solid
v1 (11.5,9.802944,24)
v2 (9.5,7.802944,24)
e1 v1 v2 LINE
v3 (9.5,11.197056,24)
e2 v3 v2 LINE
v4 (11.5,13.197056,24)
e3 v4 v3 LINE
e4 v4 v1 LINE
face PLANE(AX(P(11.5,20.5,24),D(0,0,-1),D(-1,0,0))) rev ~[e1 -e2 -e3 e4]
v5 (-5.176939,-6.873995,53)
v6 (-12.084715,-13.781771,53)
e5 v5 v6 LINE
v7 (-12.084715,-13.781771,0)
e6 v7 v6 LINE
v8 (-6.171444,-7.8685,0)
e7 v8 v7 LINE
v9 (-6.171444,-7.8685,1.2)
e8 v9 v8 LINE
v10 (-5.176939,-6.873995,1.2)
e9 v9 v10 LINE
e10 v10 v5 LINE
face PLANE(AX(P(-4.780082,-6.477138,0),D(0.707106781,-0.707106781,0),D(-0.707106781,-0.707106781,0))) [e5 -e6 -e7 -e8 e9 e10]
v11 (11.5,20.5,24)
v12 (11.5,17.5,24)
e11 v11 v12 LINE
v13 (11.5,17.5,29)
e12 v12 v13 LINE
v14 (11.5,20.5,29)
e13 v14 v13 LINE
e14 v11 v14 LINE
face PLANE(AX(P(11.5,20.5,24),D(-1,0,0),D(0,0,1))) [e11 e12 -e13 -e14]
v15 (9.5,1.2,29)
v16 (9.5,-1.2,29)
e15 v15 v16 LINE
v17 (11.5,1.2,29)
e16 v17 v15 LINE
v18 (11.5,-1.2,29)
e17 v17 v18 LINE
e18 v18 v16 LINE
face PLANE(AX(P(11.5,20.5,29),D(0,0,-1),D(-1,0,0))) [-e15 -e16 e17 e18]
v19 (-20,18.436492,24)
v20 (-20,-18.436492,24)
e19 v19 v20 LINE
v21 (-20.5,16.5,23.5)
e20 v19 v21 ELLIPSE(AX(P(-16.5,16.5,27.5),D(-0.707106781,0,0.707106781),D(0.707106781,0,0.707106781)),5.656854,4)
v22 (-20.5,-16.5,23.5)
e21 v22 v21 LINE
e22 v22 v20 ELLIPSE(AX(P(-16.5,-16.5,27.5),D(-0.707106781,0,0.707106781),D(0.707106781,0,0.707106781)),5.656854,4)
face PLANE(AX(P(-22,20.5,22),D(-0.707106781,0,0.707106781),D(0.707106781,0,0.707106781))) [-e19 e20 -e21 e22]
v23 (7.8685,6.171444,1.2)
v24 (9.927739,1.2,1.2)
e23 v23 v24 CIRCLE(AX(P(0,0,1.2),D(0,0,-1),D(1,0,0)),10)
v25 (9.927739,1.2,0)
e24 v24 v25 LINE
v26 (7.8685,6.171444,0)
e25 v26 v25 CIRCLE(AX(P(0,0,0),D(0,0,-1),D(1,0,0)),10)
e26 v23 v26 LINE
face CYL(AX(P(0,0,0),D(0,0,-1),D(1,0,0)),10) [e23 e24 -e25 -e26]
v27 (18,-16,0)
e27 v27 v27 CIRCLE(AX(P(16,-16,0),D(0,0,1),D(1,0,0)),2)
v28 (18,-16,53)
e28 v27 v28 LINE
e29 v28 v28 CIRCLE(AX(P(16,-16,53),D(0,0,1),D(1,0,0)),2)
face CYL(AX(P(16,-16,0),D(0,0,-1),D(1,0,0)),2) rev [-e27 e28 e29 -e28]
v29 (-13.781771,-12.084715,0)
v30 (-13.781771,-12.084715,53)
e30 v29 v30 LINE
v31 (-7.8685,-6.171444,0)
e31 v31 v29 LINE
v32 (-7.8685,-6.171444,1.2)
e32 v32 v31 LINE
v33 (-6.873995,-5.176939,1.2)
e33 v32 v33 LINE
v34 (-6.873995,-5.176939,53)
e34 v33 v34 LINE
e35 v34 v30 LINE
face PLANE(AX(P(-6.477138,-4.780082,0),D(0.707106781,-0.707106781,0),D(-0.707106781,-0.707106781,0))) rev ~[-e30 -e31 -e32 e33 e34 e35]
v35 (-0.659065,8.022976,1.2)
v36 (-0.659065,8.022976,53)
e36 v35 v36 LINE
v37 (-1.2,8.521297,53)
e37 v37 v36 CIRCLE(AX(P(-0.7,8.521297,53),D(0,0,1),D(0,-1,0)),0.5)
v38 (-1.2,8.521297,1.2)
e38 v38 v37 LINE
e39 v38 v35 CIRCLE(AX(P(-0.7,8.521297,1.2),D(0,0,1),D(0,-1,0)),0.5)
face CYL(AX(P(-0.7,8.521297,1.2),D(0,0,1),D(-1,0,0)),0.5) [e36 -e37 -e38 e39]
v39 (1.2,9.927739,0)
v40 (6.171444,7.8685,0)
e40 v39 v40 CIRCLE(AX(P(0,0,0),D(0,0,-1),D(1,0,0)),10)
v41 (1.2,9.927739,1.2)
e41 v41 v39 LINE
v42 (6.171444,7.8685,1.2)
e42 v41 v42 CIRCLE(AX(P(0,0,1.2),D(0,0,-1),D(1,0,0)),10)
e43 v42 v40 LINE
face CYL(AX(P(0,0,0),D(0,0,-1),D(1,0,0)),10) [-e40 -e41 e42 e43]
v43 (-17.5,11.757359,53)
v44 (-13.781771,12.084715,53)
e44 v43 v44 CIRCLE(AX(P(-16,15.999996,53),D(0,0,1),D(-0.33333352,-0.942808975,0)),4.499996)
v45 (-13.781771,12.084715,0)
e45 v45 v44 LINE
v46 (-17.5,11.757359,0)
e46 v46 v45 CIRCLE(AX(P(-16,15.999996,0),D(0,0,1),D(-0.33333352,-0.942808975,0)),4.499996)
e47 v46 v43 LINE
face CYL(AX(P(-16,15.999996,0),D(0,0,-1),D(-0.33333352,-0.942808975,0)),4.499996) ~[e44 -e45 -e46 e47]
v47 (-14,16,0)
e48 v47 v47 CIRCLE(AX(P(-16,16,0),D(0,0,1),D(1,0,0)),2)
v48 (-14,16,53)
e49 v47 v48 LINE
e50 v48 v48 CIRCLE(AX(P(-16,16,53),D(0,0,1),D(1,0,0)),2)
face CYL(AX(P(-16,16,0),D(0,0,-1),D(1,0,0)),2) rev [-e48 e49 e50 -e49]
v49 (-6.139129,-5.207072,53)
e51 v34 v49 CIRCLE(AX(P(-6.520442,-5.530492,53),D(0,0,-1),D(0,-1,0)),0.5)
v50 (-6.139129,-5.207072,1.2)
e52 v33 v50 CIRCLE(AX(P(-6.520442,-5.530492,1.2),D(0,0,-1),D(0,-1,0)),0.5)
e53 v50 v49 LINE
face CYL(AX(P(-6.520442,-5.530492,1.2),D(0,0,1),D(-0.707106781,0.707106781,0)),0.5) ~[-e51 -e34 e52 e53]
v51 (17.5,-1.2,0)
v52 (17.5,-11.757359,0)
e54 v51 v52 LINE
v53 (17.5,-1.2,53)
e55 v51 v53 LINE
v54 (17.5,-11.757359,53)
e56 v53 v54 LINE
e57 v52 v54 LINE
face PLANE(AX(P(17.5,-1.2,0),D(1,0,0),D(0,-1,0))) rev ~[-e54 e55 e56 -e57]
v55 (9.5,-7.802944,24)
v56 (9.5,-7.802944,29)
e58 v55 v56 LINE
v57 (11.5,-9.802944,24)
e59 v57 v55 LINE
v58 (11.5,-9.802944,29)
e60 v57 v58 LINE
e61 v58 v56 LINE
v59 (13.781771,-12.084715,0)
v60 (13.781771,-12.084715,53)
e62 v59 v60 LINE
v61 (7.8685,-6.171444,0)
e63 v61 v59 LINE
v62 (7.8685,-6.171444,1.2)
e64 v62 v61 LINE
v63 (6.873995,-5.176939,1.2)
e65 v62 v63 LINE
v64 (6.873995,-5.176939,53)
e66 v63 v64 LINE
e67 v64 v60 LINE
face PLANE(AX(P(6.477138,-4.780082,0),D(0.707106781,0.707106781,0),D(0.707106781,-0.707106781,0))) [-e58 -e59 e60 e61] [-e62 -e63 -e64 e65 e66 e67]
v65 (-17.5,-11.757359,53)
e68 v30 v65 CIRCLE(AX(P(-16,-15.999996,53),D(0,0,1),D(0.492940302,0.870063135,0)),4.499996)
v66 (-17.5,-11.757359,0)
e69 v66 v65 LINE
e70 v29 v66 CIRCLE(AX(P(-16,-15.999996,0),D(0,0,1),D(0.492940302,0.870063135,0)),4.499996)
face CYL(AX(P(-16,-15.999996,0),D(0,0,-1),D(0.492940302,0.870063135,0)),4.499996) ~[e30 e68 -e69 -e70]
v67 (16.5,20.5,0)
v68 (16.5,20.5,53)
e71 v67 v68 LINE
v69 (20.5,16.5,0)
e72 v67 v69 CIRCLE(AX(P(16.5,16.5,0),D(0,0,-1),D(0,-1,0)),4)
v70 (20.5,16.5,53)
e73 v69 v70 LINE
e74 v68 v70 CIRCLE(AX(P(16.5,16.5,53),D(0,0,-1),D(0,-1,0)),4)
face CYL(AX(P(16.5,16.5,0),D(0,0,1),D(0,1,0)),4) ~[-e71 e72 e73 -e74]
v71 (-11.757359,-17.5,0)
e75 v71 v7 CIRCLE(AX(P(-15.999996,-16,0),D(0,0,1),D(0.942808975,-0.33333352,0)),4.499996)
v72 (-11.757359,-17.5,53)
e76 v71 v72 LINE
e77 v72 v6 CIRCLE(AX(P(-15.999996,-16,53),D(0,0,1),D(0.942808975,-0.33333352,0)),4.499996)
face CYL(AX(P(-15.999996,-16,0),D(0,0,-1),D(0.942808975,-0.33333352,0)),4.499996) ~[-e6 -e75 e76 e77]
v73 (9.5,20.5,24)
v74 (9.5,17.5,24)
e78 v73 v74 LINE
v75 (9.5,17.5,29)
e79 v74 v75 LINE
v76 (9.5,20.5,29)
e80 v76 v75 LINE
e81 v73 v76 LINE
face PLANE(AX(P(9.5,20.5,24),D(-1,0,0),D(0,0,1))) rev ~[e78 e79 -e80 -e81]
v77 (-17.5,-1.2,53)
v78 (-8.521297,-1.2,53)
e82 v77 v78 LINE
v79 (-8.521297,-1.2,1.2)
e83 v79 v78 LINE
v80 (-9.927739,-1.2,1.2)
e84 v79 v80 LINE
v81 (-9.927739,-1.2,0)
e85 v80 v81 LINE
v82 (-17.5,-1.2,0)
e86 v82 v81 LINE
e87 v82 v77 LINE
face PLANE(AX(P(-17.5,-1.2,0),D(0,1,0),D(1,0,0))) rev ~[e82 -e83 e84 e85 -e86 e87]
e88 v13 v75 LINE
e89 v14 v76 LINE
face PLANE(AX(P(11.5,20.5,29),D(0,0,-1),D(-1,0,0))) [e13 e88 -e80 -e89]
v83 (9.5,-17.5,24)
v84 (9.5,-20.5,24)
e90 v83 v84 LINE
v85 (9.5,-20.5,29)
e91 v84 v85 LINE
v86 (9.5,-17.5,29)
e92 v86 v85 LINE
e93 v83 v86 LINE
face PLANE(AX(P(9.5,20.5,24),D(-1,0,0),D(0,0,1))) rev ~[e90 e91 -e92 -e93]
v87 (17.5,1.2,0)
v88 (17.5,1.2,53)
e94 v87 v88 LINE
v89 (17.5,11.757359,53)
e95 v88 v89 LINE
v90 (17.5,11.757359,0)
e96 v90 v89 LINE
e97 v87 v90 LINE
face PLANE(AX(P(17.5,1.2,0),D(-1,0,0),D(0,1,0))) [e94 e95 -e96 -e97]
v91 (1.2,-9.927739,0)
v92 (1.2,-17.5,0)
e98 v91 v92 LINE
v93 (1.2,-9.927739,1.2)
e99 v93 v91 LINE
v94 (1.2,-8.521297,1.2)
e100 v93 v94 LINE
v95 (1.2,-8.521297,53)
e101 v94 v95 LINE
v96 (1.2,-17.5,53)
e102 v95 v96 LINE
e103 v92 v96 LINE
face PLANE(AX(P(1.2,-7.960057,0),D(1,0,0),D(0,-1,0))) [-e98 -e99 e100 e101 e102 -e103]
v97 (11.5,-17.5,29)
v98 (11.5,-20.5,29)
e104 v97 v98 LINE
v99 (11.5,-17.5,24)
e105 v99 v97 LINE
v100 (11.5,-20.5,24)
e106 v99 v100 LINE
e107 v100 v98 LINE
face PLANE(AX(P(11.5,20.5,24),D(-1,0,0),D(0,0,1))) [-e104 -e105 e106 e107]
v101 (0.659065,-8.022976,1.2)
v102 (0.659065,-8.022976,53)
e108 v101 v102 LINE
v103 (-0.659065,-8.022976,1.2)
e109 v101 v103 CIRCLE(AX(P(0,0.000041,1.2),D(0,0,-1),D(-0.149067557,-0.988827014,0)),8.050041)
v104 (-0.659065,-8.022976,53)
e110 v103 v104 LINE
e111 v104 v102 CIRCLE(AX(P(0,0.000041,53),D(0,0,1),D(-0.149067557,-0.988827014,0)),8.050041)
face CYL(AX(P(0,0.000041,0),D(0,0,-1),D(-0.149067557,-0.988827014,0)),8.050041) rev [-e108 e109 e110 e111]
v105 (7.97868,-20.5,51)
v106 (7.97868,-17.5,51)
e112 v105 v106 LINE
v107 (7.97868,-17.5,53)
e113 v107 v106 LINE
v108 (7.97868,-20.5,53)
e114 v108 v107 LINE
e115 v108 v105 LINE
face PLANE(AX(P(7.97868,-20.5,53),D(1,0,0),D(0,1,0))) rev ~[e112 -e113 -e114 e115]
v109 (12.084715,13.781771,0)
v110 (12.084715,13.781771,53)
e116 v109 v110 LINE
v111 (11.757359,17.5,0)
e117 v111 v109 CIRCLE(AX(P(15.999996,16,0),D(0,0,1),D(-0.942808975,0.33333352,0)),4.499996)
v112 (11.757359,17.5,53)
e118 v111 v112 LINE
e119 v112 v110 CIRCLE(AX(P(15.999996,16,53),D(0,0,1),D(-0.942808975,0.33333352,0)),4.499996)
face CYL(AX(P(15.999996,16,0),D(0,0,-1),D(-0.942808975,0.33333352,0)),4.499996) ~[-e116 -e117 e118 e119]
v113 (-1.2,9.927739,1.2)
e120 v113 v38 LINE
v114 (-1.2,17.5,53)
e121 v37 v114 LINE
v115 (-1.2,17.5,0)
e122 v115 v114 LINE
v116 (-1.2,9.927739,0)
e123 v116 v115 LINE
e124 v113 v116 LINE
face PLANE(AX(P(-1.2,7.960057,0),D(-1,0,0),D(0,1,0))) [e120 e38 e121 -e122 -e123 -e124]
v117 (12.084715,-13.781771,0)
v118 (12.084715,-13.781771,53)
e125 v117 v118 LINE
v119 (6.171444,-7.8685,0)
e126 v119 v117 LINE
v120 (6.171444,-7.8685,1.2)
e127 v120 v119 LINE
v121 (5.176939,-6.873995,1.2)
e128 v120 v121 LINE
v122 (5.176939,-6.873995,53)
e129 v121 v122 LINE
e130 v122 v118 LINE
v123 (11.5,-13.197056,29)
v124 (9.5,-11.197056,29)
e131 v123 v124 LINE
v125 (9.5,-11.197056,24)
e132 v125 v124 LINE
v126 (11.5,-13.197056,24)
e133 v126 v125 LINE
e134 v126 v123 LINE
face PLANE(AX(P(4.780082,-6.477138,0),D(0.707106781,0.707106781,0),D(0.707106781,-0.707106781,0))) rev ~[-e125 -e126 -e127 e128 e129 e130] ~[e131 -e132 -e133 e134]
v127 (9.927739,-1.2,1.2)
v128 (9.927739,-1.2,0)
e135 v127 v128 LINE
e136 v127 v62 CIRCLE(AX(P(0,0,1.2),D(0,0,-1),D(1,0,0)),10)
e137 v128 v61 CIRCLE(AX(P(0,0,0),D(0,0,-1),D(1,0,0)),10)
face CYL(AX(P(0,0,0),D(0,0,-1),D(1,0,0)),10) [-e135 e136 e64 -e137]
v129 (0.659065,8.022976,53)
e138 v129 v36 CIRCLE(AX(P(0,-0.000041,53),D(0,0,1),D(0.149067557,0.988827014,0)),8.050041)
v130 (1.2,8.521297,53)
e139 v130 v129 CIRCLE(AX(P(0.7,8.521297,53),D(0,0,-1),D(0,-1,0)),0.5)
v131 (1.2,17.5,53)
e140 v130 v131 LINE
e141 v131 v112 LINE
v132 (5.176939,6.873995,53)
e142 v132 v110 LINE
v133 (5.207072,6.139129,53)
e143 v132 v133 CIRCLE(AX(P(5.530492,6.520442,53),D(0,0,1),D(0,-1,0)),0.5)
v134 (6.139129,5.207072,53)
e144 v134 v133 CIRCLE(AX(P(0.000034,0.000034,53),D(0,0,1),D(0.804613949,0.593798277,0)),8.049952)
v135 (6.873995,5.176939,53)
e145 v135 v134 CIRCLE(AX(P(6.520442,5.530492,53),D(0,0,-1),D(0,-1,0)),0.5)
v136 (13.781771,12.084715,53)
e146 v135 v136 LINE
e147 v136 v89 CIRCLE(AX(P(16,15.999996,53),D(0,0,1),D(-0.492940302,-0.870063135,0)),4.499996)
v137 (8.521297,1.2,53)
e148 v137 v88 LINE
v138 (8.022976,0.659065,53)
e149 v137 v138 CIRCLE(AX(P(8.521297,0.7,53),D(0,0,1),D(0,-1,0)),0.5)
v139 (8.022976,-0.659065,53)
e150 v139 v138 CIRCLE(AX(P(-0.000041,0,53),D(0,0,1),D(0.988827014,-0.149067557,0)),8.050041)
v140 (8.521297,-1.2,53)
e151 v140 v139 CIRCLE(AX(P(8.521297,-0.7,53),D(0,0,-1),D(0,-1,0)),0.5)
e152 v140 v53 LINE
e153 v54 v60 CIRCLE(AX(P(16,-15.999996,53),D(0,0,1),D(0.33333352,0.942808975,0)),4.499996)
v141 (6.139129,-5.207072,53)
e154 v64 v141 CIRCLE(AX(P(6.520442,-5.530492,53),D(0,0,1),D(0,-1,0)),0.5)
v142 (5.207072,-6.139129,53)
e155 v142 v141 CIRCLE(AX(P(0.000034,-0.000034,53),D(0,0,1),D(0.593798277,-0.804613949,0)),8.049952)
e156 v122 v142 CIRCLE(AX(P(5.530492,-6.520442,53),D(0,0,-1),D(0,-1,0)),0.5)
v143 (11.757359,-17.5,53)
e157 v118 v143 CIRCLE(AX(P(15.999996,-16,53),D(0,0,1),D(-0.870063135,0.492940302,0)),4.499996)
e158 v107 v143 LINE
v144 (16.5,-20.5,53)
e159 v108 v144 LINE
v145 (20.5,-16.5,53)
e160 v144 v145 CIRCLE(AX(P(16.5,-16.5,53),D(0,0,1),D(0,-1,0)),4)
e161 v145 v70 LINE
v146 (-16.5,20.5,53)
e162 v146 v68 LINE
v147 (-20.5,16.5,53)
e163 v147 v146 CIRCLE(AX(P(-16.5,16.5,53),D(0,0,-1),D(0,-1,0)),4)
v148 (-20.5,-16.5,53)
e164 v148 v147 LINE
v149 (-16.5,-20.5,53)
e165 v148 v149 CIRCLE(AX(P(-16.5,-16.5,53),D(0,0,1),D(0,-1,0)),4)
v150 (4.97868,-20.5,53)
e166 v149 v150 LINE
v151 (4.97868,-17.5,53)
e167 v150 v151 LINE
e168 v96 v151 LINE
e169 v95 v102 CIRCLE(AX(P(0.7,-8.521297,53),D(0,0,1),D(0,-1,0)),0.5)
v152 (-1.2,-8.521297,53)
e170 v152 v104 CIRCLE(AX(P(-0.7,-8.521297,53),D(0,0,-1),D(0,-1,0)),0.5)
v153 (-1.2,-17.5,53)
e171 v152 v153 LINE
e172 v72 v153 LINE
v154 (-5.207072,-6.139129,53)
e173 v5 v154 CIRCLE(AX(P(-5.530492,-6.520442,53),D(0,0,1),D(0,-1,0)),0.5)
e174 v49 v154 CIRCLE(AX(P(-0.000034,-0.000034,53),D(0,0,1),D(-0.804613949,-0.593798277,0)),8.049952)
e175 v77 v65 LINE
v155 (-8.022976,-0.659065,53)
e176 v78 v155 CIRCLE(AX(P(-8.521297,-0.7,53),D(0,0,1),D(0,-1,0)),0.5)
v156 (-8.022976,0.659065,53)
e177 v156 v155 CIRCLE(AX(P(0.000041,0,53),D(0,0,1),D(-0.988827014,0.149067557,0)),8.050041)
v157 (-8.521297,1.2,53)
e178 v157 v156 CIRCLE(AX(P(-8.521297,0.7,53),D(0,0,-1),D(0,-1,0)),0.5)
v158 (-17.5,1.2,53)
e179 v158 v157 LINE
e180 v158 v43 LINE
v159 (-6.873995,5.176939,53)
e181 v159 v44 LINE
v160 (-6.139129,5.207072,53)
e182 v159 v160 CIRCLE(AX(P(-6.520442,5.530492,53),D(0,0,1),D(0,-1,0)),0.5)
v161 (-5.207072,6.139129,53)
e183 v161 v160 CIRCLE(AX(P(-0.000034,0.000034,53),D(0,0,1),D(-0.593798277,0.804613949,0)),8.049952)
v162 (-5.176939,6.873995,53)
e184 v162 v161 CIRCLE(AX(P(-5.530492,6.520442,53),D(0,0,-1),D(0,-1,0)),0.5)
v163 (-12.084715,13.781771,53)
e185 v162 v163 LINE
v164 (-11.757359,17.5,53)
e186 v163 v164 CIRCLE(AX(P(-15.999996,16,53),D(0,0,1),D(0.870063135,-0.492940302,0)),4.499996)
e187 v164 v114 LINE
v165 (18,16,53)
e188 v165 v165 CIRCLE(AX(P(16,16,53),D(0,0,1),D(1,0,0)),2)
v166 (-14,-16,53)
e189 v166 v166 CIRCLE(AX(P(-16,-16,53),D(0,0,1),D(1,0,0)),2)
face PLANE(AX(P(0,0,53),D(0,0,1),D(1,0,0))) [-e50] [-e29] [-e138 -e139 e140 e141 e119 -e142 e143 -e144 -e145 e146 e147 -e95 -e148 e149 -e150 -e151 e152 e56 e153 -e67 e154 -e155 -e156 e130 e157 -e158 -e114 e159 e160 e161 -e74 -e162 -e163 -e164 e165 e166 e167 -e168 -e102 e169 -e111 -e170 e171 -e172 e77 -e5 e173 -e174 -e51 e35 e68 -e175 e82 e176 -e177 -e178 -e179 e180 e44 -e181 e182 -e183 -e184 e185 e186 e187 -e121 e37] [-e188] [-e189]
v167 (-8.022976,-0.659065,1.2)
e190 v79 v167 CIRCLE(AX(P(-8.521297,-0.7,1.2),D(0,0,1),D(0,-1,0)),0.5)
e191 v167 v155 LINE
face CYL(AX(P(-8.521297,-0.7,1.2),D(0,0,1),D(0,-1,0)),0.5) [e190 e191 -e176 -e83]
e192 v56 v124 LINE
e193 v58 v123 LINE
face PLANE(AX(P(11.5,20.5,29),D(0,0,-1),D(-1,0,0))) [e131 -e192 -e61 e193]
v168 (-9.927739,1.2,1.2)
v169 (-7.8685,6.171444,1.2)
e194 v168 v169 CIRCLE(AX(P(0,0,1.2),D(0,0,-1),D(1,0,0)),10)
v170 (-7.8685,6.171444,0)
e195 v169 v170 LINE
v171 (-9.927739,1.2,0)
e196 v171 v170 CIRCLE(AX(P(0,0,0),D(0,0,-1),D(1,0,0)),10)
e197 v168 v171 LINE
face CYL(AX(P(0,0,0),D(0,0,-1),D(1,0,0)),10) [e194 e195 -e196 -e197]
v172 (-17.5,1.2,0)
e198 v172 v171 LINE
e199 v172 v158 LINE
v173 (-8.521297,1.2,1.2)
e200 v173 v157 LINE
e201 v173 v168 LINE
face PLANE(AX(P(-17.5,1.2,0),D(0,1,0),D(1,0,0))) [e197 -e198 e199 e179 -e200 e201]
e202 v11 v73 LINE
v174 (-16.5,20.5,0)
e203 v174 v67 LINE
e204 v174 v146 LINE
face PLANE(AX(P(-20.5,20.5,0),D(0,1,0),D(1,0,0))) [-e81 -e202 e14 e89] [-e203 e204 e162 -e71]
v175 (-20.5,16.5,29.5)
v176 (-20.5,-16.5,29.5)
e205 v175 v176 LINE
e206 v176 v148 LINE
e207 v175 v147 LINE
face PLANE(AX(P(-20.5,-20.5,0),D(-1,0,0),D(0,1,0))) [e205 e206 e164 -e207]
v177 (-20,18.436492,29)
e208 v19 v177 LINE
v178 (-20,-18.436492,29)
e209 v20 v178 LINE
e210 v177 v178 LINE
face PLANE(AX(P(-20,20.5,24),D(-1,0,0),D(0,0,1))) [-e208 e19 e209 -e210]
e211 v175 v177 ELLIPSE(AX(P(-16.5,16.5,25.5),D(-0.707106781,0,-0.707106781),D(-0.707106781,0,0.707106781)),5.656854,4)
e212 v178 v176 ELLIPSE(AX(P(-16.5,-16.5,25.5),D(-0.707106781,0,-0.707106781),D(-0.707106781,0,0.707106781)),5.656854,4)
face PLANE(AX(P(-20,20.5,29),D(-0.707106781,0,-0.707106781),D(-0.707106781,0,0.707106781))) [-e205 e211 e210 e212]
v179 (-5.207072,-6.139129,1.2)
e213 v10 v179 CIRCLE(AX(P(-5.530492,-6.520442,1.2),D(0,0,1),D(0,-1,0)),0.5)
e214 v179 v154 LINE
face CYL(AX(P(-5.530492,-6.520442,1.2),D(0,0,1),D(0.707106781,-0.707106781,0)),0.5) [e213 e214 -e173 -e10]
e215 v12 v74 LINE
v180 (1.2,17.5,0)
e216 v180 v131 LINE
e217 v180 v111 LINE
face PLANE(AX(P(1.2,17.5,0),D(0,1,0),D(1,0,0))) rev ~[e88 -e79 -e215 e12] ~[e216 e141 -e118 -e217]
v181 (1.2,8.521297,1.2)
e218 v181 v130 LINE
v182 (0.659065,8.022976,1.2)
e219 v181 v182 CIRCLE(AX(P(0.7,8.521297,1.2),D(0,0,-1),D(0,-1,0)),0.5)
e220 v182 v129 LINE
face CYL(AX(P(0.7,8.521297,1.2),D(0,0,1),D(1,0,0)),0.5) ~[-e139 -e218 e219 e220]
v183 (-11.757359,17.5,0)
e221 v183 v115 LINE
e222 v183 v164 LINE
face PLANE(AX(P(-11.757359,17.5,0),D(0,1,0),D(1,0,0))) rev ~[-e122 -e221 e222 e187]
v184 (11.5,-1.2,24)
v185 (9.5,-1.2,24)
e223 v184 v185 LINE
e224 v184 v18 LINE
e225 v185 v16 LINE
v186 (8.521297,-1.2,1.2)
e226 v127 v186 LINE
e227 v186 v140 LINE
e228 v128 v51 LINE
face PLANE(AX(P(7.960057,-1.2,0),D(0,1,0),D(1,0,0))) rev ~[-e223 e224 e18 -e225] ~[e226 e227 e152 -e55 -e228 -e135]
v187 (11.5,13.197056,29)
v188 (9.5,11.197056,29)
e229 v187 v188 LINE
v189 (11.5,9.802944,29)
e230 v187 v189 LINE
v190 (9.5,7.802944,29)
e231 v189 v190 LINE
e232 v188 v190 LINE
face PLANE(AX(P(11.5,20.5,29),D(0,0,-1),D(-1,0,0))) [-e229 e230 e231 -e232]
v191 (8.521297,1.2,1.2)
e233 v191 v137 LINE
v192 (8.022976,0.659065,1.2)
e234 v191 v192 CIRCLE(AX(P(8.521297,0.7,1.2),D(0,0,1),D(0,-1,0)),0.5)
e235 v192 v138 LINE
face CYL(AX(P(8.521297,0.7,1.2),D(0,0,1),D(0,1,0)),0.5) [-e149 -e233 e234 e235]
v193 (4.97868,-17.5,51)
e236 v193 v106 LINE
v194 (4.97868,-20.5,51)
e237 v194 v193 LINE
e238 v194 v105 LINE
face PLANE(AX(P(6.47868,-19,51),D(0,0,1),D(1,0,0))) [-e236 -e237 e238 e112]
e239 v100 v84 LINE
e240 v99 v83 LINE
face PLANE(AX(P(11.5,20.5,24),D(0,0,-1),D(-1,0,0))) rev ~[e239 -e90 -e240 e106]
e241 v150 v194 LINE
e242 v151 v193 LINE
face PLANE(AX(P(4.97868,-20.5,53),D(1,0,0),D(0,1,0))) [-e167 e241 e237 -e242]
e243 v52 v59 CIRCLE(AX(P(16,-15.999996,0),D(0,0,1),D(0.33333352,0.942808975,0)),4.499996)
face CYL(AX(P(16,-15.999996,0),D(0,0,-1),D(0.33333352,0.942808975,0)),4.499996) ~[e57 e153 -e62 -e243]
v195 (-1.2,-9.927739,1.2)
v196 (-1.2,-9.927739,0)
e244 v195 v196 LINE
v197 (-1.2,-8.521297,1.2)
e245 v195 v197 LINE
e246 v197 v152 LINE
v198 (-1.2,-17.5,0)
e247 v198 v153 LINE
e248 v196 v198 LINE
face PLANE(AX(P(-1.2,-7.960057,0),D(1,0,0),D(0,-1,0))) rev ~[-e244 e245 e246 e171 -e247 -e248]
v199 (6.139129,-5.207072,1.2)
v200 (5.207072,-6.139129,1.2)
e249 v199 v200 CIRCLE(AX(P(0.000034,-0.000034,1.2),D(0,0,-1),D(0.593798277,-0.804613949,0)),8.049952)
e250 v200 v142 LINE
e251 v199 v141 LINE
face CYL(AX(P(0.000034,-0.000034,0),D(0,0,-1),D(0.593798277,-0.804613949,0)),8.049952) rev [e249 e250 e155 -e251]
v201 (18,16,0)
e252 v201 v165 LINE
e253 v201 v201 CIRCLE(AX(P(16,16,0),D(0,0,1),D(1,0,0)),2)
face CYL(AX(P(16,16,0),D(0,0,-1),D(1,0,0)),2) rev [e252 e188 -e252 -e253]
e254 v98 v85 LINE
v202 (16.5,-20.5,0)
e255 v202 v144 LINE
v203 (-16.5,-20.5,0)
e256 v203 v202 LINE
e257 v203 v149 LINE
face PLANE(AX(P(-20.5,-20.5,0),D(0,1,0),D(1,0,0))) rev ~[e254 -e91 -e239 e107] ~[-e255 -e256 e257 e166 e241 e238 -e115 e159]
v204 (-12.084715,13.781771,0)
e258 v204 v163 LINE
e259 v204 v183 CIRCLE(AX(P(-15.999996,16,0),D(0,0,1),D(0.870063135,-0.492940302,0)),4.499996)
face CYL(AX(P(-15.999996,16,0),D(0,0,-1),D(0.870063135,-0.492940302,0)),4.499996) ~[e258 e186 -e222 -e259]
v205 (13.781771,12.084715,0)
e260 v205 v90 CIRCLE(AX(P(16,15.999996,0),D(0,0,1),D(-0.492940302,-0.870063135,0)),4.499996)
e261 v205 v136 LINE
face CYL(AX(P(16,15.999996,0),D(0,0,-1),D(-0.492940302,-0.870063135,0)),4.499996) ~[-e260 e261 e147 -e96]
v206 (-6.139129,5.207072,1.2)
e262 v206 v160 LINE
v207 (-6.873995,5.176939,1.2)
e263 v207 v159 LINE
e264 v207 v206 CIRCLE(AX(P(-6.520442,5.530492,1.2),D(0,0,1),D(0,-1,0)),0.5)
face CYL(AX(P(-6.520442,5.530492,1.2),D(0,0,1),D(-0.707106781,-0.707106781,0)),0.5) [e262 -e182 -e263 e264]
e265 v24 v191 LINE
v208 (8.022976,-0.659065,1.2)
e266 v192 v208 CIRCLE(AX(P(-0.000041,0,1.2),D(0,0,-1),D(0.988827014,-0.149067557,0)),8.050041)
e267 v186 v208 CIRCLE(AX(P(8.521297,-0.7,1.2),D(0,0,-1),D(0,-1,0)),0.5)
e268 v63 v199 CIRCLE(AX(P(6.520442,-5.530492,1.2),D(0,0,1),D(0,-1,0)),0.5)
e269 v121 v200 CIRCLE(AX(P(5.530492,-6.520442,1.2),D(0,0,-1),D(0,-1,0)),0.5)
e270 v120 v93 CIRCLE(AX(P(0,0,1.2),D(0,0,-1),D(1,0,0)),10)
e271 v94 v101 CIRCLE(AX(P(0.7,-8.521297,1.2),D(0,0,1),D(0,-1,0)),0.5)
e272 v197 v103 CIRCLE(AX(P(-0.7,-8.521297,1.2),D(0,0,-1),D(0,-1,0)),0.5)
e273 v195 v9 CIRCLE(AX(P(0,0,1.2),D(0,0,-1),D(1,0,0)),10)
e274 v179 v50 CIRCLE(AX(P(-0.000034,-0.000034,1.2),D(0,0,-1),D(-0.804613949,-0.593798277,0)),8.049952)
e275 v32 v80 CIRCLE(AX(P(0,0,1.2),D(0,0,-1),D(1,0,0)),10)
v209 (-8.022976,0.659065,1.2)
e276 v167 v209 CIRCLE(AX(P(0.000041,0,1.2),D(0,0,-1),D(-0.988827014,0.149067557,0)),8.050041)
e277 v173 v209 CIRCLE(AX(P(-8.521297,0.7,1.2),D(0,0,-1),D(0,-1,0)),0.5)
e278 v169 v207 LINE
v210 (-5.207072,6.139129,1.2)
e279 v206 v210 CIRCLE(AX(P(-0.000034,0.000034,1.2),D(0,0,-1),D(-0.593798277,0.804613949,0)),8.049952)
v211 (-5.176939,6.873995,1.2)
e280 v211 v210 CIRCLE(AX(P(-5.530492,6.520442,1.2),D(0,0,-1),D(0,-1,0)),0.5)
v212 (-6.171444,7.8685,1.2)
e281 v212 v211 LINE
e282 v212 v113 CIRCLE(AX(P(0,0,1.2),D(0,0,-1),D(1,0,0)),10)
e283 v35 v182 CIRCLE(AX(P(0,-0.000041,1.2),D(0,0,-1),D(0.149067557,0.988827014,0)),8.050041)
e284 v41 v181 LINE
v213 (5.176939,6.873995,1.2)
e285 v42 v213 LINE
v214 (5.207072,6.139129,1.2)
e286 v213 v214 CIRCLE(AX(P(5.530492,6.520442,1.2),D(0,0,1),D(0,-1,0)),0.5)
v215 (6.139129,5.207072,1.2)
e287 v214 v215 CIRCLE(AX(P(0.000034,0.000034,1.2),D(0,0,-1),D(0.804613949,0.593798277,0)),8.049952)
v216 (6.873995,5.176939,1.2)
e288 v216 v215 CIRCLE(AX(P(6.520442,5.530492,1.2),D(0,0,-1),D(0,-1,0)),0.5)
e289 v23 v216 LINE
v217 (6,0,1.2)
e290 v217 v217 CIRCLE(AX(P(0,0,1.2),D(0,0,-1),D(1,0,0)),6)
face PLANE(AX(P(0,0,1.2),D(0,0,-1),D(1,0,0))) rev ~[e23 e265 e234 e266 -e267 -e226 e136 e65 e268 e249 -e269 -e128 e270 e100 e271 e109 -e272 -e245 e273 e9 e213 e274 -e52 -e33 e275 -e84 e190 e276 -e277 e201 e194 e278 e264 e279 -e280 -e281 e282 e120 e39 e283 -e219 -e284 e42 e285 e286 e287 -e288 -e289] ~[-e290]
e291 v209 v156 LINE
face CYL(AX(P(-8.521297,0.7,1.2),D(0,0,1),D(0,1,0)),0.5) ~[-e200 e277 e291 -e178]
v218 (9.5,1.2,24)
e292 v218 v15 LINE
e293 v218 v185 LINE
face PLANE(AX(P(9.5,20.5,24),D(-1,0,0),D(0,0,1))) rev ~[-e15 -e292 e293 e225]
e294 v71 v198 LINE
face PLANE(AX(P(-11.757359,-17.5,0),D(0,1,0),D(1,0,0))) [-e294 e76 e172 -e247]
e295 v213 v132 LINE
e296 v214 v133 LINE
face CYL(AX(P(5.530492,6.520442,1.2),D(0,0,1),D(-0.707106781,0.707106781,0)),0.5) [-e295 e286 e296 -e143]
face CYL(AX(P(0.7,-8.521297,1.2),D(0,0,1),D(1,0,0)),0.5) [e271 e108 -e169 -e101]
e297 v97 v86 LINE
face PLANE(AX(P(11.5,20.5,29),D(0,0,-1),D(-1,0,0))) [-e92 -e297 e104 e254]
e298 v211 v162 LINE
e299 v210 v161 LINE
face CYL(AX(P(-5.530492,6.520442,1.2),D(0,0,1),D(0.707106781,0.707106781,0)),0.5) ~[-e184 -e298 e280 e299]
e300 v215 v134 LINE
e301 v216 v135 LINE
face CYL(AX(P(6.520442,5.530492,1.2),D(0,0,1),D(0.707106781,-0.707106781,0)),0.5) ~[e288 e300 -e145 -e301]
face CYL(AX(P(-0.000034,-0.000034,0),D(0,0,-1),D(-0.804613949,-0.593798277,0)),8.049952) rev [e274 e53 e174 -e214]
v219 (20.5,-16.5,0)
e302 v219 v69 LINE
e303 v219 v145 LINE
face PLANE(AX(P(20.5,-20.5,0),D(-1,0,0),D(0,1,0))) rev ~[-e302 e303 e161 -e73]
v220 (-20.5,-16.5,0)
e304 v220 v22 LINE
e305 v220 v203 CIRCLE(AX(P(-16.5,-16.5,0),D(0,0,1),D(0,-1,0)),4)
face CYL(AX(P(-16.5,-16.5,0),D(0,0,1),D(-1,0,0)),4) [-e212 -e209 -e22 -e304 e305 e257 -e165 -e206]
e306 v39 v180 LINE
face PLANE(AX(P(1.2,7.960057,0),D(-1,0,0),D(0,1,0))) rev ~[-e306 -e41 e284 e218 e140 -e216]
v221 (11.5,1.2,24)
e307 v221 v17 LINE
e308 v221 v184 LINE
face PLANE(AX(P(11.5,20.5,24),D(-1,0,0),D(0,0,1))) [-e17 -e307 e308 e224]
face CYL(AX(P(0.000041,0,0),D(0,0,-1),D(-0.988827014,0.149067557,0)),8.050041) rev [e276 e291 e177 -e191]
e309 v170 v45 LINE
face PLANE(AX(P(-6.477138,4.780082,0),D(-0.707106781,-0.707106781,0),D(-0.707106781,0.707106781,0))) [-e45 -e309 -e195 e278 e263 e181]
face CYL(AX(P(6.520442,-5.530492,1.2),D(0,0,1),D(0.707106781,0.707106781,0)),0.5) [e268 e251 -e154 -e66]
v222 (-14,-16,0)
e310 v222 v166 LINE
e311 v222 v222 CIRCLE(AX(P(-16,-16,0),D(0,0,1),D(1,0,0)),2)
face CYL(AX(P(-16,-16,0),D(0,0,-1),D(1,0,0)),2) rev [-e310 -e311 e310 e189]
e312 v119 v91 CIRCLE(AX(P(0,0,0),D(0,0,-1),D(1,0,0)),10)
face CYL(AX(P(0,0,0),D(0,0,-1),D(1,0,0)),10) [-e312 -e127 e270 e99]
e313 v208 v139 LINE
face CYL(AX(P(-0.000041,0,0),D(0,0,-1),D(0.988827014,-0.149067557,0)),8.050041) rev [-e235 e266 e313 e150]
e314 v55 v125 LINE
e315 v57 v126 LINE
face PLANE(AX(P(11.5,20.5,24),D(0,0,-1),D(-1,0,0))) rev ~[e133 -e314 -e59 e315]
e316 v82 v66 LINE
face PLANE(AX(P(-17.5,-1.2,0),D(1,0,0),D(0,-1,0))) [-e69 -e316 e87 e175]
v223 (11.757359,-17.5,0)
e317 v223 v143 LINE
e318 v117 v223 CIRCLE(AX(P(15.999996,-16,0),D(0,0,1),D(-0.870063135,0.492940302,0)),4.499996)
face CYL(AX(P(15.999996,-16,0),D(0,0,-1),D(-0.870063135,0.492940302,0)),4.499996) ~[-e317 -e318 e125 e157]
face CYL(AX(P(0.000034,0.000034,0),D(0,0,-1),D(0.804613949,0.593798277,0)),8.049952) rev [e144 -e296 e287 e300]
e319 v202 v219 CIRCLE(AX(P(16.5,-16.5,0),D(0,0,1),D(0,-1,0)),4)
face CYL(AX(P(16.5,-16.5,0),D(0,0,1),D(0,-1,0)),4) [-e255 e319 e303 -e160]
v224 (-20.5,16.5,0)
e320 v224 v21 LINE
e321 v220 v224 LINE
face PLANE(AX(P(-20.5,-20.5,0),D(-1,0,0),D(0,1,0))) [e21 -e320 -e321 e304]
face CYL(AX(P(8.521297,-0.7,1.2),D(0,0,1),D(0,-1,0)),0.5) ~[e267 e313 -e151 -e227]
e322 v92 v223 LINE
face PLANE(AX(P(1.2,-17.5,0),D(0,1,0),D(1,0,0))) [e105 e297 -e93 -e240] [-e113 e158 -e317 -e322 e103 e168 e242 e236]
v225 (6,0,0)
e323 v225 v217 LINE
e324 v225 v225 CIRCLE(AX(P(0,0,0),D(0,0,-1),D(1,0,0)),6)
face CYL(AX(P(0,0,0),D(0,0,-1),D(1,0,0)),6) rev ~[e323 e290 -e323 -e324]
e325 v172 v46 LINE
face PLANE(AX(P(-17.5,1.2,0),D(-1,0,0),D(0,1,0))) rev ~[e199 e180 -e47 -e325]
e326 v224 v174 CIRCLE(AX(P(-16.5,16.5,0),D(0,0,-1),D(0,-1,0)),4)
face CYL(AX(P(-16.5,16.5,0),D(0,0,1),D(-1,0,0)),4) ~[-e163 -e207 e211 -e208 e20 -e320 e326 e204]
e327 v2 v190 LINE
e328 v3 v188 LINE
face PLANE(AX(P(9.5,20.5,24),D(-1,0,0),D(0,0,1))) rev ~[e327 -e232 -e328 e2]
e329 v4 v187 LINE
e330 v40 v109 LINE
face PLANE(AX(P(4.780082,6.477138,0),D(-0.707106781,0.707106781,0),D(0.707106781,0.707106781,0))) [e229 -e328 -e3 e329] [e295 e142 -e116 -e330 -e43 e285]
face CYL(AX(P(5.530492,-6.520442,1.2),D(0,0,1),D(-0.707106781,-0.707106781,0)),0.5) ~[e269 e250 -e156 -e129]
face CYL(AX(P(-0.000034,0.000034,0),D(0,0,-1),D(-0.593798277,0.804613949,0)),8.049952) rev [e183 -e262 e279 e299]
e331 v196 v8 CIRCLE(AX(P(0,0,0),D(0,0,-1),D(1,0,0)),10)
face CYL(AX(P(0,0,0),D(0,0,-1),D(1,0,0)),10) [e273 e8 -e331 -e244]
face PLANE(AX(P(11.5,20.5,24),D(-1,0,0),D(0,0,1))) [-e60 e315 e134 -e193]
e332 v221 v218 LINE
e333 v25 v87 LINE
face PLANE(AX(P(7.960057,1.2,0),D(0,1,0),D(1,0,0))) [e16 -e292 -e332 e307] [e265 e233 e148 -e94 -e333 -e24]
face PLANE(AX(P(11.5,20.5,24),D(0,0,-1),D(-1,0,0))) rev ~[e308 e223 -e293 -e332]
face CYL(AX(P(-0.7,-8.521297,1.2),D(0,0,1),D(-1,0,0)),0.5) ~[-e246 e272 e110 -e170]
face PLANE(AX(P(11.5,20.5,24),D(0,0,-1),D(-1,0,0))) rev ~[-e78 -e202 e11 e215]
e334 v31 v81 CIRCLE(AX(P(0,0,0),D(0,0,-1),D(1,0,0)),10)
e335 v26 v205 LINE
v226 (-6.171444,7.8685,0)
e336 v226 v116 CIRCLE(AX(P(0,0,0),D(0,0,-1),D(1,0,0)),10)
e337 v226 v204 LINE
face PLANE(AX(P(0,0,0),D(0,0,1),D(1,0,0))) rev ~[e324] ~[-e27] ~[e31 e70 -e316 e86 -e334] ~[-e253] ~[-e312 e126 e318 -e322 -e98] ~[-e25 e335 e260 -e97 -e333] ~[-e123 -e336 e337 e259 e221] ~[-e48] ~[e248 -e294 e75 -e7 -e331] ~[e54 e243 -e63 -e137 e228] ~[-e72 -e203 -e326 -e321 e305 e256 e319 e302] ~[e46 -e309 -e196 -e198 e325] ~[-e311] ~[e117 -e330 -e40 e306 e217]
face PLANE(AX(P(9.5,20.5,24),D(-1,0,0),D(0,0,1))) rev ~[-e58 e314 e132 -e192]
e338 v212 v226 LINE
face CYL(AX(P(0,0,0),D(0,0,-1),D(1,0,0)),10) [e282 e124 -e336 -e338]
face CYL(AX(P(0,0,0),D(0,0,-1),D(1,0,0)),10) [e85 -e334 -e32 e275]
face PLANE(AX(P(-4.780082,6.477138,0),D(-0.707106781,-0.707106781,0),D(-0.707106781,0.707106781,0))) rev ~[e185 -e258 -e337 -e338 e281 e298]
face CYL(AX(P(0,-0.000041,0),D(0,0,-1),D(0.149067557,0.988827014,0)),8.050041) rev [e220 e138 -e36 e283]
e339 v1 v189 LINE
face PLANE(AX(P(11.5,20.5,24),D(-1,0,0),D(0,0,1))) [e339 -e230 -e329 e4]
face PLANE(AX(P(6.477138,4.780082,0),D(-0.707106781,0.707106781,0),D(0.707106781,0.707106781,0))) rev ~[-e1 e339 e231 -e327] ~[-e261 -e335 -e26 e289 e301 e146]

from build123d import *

# Parameters (mm, degrees)
SKETCH_W        = 41
SKETCH_H        = 41
SKETCH_R        = 2
PAD_DEPTH       = 53
SKETCH001_R     = 10
SKETCH001_R_2   = 6
PAD001_DEPTH    = 1.2
FILLET_R        = 0.5
FILLET001_R     = 4
SKETCH002_W     = 3
SKETCH002_H     = 3
POCKET_DEPTH    = 2
SKETCH003_W     = 2
SKETCH003_H     = 5
POCKET001_DEPTH = 41.001
POCKET002_DEPTH = 41.001


with BuildPart() as part:
    # Sketch → Pad (new body)
    with BuildSketch(Plane.XY):
        Rectangle(SKETCH_W, SKETCH_H)
        with Locations((-16, 16)):
            Circle(SKETCH_R, mode=Mode.SUBTRACT)
        with Locations((16, 16)):
            Circle(SKETCH_R, mode=Mode.SUBTRACT)
        with Locations((-16, -16)):
            Circle(SKETCH_R, mode=Mode.SUBTRACT)
        with Locations((16, -16)):
            Circle(SKETCH_R, mode=Mode.SUBTRACT)
        with BuildLine():
            Line((-17.5, 1.2), (-7.960057, 1.2))
            ThreePointArc((-7.960057, 1.2), (-8.05, 0), (-7.960057, -1.2))
            Line((-17.5, -1.2), (-7.960057, -1.2))
            Line((-17.5, -1.2), (-17.5, -11.757359))
            ThreePointArc((-13.781771, -12.084715), (-15.605344, -11.517339), (-17.5, -11.757359))
            Line((-6.477138, -4.780082), (-13.781771, -12.084715))
            ThreePointArc((-6.477138, -4.780082), (-5.69221, -5.69221), (-4.780082, -6.477138))
            Line((-4.780082, -6.477138), (-12.084715, -13.781771))
            ThreePointArc((-11.757359, -17.5), (-11.517339, -15.605344), (-12.084715, -13.781771))
            Line((-11.757359, -17.5), (-1.2, -17.5))
            Line((-1.2, -7.960057), (-1.2, -17.5))
            ThreePointArc((-1.2, -7.960057), (0, -8.05), (1.2, -7.960057))
            Line((1.2, -7.960057), (1.2, -17.5))
            Line((1.2, -17.5), (11.757359, -17.5))
            ThreePointArc((12.084715, -13.781771), (11.517339, -15.605344), (11.757359, -17.5))
            Line((4.780082, -6.477138), (12.084715, -13.781771))
            ThreePointArc((4.780082, -6.477138), (5.69221, -5.69221), (6.477138, -4.780082))
            Line((6.477138, -4.780082), (13.781771, -12.084715))
            ThreePointArc((17.5, -11.757359), (15.605344, -11.517339), (13.781771, -12.084715))
            Line((17.5, -1.2), (17.5, -11.757359))
            Line((7.960057, -1.2), (17.5, -1.2))
            ThreePointArc((7.960057, -1.2), (8.05, 0), (7.960057, 1.2))
            Line((7.960057, 1.2), (17.5, 1.2))
            Line((17.5, 1.2), (17.5, 11.757359))
            ThreePointArc((13.781771, 12.084715), (15.605344, 11.517339), (17.5, 11.757359))
            Line((6.477138, 4.780082), (13.781771, 12.084715))
            ThreePointArc((6.477138, 4.780082), (5.69221, 5.69221), (4.780082, 6.477138))
            Line((4.780082, 6.477138), (12.084715, 13.781771))
            ThreePointArc((11.757359, 17.5), (11.517339, 15.605344), (12.084715, 13.781771))
            Line((1.2, 17.5), (11.757359, 17.5))
            Line((1.2, 7.960057), (1.2, 17.5))
            ThreePointArc((1.2, 7.960057), (0, 8.05), (-1.2, 7.960057))
            Line((-1.2, 7.960057), (-1.2, 17.5))
            Line((-11.757359, 17.5), (-1.2, 17.5))
            ThreePointArc((-12.084715, 13.781771), (-11.517339, 15.605344), (-11.757359, 17.5))
            Line((-4.780082, 6.477138), (-12.084715, 13.781771))
            ThreePointArc((-4.780082, 6.477138), (-5.69221, 5.69221), (-6.477138, 4.780082))
            Line((-6.477138, 4.780082), (-13.781771, 12.084715))
            ThreePointArc((-17.5, 11.757359), (-15.605344, 11.517339), (-13.781771, 12.084715))
            Line((-17.5, 1.2), (-17.5, 11.757359))
        make_face(mode=Mode.SUBTRACT)
    extrude(amount=PAD_DEPTH)

    # Sketch001 → Pad001 (new body)
    with BuildSketch(Plane(origin=(0, 0, 0), x_dir=(1, 0, 0), z_dir=(0, 0, -1))):
        Circle(SKETCH001_R)
        Circle(SKETCH001_R_2, mode=Mode.SUBTRACT)
    extrude(amount=-PAD001_DEPTH)

    # Fillet
    fillet_edges = [part.edges().sort_by_distance(p)[0] for p in [
        (-6.477138, 4.780082, 27.1),
        (-4.780082, 6.477138, 27.1),
        (-1.2, 7.960057, 27.1),
        (1.2, 7.960057, 27.1),
        (4.780082, 6.477138, 27.1),
        (6.477138, 4.780082, 27.1),
        (-7.960057, 1.2, 27.1),
        (-7.960057, -1.2, 27.1),
        (-6.477138, -4.780082, 27.1),
        (-4.780082, -6.477138, 27.1),
        (-1.2, -7.960057, 27.1),
        (1.2, -7.960057, 27.1),
        (4.780082, -6.477138, 27.1),
        (6.477138, -4.780082, 27.1),
        (7.960057, -1.2, 27.1),
        (7.960057, 1.2, 27.1),
    ]]
    fillet(fillet_edges, radius=FILLET_R)

    # Fillet001
    fillet001_edges = [part.edges().sort_by_distance(p)[0] for p in [
        (-20.5, 20.5, 26.5),
        (20.5, 20.5, 26.5),
        (-20.5, -20.5, 26.5),
        (20.5, -20.5, 26.5),
    ]]
    fillet(fillet001_edges, radius=FILLET001_R)

    # Sketch002 → Pocket (cut)
    with BuildSketch(Plane.XY.offset(53)):
        with Locations((6.47868, -19)):
            Rectangle(SKETCH002_W, SKETCH002_H)
    extrude(amount=-POCKET_DEPTH, mode=Mode.SUBTRACT)

    # Sketch003 → Pocket001 (cut, through all)
    with BuildSketch(Plane(origin=(0, 20.5, 0), x_dir=(-1, 0, 0), z_dir=(0, 1, 0))):
        with Locations((-10.5, 26.5)):
            Rectangle(SKETCH003_W, SKETCH003_H)
    extrude(amount=-POCKET001_DEPTH, mode=Mode.SUBTRACT)

    # Sketch004 → Pocket002 (cut, through all)
    with BuildSketch(Plane(origin=(0, 20.5, 0), x_dir=(-1, 0, 0), z_dir=(0, 1, 0))):
        Polygon((20, 29), (22, 31), (22, 22), (20, 24), align=None)
    extrude(amount=-POCKET002_DEPTH, mode=Mode.SUBTRACT)


solid = part.part
